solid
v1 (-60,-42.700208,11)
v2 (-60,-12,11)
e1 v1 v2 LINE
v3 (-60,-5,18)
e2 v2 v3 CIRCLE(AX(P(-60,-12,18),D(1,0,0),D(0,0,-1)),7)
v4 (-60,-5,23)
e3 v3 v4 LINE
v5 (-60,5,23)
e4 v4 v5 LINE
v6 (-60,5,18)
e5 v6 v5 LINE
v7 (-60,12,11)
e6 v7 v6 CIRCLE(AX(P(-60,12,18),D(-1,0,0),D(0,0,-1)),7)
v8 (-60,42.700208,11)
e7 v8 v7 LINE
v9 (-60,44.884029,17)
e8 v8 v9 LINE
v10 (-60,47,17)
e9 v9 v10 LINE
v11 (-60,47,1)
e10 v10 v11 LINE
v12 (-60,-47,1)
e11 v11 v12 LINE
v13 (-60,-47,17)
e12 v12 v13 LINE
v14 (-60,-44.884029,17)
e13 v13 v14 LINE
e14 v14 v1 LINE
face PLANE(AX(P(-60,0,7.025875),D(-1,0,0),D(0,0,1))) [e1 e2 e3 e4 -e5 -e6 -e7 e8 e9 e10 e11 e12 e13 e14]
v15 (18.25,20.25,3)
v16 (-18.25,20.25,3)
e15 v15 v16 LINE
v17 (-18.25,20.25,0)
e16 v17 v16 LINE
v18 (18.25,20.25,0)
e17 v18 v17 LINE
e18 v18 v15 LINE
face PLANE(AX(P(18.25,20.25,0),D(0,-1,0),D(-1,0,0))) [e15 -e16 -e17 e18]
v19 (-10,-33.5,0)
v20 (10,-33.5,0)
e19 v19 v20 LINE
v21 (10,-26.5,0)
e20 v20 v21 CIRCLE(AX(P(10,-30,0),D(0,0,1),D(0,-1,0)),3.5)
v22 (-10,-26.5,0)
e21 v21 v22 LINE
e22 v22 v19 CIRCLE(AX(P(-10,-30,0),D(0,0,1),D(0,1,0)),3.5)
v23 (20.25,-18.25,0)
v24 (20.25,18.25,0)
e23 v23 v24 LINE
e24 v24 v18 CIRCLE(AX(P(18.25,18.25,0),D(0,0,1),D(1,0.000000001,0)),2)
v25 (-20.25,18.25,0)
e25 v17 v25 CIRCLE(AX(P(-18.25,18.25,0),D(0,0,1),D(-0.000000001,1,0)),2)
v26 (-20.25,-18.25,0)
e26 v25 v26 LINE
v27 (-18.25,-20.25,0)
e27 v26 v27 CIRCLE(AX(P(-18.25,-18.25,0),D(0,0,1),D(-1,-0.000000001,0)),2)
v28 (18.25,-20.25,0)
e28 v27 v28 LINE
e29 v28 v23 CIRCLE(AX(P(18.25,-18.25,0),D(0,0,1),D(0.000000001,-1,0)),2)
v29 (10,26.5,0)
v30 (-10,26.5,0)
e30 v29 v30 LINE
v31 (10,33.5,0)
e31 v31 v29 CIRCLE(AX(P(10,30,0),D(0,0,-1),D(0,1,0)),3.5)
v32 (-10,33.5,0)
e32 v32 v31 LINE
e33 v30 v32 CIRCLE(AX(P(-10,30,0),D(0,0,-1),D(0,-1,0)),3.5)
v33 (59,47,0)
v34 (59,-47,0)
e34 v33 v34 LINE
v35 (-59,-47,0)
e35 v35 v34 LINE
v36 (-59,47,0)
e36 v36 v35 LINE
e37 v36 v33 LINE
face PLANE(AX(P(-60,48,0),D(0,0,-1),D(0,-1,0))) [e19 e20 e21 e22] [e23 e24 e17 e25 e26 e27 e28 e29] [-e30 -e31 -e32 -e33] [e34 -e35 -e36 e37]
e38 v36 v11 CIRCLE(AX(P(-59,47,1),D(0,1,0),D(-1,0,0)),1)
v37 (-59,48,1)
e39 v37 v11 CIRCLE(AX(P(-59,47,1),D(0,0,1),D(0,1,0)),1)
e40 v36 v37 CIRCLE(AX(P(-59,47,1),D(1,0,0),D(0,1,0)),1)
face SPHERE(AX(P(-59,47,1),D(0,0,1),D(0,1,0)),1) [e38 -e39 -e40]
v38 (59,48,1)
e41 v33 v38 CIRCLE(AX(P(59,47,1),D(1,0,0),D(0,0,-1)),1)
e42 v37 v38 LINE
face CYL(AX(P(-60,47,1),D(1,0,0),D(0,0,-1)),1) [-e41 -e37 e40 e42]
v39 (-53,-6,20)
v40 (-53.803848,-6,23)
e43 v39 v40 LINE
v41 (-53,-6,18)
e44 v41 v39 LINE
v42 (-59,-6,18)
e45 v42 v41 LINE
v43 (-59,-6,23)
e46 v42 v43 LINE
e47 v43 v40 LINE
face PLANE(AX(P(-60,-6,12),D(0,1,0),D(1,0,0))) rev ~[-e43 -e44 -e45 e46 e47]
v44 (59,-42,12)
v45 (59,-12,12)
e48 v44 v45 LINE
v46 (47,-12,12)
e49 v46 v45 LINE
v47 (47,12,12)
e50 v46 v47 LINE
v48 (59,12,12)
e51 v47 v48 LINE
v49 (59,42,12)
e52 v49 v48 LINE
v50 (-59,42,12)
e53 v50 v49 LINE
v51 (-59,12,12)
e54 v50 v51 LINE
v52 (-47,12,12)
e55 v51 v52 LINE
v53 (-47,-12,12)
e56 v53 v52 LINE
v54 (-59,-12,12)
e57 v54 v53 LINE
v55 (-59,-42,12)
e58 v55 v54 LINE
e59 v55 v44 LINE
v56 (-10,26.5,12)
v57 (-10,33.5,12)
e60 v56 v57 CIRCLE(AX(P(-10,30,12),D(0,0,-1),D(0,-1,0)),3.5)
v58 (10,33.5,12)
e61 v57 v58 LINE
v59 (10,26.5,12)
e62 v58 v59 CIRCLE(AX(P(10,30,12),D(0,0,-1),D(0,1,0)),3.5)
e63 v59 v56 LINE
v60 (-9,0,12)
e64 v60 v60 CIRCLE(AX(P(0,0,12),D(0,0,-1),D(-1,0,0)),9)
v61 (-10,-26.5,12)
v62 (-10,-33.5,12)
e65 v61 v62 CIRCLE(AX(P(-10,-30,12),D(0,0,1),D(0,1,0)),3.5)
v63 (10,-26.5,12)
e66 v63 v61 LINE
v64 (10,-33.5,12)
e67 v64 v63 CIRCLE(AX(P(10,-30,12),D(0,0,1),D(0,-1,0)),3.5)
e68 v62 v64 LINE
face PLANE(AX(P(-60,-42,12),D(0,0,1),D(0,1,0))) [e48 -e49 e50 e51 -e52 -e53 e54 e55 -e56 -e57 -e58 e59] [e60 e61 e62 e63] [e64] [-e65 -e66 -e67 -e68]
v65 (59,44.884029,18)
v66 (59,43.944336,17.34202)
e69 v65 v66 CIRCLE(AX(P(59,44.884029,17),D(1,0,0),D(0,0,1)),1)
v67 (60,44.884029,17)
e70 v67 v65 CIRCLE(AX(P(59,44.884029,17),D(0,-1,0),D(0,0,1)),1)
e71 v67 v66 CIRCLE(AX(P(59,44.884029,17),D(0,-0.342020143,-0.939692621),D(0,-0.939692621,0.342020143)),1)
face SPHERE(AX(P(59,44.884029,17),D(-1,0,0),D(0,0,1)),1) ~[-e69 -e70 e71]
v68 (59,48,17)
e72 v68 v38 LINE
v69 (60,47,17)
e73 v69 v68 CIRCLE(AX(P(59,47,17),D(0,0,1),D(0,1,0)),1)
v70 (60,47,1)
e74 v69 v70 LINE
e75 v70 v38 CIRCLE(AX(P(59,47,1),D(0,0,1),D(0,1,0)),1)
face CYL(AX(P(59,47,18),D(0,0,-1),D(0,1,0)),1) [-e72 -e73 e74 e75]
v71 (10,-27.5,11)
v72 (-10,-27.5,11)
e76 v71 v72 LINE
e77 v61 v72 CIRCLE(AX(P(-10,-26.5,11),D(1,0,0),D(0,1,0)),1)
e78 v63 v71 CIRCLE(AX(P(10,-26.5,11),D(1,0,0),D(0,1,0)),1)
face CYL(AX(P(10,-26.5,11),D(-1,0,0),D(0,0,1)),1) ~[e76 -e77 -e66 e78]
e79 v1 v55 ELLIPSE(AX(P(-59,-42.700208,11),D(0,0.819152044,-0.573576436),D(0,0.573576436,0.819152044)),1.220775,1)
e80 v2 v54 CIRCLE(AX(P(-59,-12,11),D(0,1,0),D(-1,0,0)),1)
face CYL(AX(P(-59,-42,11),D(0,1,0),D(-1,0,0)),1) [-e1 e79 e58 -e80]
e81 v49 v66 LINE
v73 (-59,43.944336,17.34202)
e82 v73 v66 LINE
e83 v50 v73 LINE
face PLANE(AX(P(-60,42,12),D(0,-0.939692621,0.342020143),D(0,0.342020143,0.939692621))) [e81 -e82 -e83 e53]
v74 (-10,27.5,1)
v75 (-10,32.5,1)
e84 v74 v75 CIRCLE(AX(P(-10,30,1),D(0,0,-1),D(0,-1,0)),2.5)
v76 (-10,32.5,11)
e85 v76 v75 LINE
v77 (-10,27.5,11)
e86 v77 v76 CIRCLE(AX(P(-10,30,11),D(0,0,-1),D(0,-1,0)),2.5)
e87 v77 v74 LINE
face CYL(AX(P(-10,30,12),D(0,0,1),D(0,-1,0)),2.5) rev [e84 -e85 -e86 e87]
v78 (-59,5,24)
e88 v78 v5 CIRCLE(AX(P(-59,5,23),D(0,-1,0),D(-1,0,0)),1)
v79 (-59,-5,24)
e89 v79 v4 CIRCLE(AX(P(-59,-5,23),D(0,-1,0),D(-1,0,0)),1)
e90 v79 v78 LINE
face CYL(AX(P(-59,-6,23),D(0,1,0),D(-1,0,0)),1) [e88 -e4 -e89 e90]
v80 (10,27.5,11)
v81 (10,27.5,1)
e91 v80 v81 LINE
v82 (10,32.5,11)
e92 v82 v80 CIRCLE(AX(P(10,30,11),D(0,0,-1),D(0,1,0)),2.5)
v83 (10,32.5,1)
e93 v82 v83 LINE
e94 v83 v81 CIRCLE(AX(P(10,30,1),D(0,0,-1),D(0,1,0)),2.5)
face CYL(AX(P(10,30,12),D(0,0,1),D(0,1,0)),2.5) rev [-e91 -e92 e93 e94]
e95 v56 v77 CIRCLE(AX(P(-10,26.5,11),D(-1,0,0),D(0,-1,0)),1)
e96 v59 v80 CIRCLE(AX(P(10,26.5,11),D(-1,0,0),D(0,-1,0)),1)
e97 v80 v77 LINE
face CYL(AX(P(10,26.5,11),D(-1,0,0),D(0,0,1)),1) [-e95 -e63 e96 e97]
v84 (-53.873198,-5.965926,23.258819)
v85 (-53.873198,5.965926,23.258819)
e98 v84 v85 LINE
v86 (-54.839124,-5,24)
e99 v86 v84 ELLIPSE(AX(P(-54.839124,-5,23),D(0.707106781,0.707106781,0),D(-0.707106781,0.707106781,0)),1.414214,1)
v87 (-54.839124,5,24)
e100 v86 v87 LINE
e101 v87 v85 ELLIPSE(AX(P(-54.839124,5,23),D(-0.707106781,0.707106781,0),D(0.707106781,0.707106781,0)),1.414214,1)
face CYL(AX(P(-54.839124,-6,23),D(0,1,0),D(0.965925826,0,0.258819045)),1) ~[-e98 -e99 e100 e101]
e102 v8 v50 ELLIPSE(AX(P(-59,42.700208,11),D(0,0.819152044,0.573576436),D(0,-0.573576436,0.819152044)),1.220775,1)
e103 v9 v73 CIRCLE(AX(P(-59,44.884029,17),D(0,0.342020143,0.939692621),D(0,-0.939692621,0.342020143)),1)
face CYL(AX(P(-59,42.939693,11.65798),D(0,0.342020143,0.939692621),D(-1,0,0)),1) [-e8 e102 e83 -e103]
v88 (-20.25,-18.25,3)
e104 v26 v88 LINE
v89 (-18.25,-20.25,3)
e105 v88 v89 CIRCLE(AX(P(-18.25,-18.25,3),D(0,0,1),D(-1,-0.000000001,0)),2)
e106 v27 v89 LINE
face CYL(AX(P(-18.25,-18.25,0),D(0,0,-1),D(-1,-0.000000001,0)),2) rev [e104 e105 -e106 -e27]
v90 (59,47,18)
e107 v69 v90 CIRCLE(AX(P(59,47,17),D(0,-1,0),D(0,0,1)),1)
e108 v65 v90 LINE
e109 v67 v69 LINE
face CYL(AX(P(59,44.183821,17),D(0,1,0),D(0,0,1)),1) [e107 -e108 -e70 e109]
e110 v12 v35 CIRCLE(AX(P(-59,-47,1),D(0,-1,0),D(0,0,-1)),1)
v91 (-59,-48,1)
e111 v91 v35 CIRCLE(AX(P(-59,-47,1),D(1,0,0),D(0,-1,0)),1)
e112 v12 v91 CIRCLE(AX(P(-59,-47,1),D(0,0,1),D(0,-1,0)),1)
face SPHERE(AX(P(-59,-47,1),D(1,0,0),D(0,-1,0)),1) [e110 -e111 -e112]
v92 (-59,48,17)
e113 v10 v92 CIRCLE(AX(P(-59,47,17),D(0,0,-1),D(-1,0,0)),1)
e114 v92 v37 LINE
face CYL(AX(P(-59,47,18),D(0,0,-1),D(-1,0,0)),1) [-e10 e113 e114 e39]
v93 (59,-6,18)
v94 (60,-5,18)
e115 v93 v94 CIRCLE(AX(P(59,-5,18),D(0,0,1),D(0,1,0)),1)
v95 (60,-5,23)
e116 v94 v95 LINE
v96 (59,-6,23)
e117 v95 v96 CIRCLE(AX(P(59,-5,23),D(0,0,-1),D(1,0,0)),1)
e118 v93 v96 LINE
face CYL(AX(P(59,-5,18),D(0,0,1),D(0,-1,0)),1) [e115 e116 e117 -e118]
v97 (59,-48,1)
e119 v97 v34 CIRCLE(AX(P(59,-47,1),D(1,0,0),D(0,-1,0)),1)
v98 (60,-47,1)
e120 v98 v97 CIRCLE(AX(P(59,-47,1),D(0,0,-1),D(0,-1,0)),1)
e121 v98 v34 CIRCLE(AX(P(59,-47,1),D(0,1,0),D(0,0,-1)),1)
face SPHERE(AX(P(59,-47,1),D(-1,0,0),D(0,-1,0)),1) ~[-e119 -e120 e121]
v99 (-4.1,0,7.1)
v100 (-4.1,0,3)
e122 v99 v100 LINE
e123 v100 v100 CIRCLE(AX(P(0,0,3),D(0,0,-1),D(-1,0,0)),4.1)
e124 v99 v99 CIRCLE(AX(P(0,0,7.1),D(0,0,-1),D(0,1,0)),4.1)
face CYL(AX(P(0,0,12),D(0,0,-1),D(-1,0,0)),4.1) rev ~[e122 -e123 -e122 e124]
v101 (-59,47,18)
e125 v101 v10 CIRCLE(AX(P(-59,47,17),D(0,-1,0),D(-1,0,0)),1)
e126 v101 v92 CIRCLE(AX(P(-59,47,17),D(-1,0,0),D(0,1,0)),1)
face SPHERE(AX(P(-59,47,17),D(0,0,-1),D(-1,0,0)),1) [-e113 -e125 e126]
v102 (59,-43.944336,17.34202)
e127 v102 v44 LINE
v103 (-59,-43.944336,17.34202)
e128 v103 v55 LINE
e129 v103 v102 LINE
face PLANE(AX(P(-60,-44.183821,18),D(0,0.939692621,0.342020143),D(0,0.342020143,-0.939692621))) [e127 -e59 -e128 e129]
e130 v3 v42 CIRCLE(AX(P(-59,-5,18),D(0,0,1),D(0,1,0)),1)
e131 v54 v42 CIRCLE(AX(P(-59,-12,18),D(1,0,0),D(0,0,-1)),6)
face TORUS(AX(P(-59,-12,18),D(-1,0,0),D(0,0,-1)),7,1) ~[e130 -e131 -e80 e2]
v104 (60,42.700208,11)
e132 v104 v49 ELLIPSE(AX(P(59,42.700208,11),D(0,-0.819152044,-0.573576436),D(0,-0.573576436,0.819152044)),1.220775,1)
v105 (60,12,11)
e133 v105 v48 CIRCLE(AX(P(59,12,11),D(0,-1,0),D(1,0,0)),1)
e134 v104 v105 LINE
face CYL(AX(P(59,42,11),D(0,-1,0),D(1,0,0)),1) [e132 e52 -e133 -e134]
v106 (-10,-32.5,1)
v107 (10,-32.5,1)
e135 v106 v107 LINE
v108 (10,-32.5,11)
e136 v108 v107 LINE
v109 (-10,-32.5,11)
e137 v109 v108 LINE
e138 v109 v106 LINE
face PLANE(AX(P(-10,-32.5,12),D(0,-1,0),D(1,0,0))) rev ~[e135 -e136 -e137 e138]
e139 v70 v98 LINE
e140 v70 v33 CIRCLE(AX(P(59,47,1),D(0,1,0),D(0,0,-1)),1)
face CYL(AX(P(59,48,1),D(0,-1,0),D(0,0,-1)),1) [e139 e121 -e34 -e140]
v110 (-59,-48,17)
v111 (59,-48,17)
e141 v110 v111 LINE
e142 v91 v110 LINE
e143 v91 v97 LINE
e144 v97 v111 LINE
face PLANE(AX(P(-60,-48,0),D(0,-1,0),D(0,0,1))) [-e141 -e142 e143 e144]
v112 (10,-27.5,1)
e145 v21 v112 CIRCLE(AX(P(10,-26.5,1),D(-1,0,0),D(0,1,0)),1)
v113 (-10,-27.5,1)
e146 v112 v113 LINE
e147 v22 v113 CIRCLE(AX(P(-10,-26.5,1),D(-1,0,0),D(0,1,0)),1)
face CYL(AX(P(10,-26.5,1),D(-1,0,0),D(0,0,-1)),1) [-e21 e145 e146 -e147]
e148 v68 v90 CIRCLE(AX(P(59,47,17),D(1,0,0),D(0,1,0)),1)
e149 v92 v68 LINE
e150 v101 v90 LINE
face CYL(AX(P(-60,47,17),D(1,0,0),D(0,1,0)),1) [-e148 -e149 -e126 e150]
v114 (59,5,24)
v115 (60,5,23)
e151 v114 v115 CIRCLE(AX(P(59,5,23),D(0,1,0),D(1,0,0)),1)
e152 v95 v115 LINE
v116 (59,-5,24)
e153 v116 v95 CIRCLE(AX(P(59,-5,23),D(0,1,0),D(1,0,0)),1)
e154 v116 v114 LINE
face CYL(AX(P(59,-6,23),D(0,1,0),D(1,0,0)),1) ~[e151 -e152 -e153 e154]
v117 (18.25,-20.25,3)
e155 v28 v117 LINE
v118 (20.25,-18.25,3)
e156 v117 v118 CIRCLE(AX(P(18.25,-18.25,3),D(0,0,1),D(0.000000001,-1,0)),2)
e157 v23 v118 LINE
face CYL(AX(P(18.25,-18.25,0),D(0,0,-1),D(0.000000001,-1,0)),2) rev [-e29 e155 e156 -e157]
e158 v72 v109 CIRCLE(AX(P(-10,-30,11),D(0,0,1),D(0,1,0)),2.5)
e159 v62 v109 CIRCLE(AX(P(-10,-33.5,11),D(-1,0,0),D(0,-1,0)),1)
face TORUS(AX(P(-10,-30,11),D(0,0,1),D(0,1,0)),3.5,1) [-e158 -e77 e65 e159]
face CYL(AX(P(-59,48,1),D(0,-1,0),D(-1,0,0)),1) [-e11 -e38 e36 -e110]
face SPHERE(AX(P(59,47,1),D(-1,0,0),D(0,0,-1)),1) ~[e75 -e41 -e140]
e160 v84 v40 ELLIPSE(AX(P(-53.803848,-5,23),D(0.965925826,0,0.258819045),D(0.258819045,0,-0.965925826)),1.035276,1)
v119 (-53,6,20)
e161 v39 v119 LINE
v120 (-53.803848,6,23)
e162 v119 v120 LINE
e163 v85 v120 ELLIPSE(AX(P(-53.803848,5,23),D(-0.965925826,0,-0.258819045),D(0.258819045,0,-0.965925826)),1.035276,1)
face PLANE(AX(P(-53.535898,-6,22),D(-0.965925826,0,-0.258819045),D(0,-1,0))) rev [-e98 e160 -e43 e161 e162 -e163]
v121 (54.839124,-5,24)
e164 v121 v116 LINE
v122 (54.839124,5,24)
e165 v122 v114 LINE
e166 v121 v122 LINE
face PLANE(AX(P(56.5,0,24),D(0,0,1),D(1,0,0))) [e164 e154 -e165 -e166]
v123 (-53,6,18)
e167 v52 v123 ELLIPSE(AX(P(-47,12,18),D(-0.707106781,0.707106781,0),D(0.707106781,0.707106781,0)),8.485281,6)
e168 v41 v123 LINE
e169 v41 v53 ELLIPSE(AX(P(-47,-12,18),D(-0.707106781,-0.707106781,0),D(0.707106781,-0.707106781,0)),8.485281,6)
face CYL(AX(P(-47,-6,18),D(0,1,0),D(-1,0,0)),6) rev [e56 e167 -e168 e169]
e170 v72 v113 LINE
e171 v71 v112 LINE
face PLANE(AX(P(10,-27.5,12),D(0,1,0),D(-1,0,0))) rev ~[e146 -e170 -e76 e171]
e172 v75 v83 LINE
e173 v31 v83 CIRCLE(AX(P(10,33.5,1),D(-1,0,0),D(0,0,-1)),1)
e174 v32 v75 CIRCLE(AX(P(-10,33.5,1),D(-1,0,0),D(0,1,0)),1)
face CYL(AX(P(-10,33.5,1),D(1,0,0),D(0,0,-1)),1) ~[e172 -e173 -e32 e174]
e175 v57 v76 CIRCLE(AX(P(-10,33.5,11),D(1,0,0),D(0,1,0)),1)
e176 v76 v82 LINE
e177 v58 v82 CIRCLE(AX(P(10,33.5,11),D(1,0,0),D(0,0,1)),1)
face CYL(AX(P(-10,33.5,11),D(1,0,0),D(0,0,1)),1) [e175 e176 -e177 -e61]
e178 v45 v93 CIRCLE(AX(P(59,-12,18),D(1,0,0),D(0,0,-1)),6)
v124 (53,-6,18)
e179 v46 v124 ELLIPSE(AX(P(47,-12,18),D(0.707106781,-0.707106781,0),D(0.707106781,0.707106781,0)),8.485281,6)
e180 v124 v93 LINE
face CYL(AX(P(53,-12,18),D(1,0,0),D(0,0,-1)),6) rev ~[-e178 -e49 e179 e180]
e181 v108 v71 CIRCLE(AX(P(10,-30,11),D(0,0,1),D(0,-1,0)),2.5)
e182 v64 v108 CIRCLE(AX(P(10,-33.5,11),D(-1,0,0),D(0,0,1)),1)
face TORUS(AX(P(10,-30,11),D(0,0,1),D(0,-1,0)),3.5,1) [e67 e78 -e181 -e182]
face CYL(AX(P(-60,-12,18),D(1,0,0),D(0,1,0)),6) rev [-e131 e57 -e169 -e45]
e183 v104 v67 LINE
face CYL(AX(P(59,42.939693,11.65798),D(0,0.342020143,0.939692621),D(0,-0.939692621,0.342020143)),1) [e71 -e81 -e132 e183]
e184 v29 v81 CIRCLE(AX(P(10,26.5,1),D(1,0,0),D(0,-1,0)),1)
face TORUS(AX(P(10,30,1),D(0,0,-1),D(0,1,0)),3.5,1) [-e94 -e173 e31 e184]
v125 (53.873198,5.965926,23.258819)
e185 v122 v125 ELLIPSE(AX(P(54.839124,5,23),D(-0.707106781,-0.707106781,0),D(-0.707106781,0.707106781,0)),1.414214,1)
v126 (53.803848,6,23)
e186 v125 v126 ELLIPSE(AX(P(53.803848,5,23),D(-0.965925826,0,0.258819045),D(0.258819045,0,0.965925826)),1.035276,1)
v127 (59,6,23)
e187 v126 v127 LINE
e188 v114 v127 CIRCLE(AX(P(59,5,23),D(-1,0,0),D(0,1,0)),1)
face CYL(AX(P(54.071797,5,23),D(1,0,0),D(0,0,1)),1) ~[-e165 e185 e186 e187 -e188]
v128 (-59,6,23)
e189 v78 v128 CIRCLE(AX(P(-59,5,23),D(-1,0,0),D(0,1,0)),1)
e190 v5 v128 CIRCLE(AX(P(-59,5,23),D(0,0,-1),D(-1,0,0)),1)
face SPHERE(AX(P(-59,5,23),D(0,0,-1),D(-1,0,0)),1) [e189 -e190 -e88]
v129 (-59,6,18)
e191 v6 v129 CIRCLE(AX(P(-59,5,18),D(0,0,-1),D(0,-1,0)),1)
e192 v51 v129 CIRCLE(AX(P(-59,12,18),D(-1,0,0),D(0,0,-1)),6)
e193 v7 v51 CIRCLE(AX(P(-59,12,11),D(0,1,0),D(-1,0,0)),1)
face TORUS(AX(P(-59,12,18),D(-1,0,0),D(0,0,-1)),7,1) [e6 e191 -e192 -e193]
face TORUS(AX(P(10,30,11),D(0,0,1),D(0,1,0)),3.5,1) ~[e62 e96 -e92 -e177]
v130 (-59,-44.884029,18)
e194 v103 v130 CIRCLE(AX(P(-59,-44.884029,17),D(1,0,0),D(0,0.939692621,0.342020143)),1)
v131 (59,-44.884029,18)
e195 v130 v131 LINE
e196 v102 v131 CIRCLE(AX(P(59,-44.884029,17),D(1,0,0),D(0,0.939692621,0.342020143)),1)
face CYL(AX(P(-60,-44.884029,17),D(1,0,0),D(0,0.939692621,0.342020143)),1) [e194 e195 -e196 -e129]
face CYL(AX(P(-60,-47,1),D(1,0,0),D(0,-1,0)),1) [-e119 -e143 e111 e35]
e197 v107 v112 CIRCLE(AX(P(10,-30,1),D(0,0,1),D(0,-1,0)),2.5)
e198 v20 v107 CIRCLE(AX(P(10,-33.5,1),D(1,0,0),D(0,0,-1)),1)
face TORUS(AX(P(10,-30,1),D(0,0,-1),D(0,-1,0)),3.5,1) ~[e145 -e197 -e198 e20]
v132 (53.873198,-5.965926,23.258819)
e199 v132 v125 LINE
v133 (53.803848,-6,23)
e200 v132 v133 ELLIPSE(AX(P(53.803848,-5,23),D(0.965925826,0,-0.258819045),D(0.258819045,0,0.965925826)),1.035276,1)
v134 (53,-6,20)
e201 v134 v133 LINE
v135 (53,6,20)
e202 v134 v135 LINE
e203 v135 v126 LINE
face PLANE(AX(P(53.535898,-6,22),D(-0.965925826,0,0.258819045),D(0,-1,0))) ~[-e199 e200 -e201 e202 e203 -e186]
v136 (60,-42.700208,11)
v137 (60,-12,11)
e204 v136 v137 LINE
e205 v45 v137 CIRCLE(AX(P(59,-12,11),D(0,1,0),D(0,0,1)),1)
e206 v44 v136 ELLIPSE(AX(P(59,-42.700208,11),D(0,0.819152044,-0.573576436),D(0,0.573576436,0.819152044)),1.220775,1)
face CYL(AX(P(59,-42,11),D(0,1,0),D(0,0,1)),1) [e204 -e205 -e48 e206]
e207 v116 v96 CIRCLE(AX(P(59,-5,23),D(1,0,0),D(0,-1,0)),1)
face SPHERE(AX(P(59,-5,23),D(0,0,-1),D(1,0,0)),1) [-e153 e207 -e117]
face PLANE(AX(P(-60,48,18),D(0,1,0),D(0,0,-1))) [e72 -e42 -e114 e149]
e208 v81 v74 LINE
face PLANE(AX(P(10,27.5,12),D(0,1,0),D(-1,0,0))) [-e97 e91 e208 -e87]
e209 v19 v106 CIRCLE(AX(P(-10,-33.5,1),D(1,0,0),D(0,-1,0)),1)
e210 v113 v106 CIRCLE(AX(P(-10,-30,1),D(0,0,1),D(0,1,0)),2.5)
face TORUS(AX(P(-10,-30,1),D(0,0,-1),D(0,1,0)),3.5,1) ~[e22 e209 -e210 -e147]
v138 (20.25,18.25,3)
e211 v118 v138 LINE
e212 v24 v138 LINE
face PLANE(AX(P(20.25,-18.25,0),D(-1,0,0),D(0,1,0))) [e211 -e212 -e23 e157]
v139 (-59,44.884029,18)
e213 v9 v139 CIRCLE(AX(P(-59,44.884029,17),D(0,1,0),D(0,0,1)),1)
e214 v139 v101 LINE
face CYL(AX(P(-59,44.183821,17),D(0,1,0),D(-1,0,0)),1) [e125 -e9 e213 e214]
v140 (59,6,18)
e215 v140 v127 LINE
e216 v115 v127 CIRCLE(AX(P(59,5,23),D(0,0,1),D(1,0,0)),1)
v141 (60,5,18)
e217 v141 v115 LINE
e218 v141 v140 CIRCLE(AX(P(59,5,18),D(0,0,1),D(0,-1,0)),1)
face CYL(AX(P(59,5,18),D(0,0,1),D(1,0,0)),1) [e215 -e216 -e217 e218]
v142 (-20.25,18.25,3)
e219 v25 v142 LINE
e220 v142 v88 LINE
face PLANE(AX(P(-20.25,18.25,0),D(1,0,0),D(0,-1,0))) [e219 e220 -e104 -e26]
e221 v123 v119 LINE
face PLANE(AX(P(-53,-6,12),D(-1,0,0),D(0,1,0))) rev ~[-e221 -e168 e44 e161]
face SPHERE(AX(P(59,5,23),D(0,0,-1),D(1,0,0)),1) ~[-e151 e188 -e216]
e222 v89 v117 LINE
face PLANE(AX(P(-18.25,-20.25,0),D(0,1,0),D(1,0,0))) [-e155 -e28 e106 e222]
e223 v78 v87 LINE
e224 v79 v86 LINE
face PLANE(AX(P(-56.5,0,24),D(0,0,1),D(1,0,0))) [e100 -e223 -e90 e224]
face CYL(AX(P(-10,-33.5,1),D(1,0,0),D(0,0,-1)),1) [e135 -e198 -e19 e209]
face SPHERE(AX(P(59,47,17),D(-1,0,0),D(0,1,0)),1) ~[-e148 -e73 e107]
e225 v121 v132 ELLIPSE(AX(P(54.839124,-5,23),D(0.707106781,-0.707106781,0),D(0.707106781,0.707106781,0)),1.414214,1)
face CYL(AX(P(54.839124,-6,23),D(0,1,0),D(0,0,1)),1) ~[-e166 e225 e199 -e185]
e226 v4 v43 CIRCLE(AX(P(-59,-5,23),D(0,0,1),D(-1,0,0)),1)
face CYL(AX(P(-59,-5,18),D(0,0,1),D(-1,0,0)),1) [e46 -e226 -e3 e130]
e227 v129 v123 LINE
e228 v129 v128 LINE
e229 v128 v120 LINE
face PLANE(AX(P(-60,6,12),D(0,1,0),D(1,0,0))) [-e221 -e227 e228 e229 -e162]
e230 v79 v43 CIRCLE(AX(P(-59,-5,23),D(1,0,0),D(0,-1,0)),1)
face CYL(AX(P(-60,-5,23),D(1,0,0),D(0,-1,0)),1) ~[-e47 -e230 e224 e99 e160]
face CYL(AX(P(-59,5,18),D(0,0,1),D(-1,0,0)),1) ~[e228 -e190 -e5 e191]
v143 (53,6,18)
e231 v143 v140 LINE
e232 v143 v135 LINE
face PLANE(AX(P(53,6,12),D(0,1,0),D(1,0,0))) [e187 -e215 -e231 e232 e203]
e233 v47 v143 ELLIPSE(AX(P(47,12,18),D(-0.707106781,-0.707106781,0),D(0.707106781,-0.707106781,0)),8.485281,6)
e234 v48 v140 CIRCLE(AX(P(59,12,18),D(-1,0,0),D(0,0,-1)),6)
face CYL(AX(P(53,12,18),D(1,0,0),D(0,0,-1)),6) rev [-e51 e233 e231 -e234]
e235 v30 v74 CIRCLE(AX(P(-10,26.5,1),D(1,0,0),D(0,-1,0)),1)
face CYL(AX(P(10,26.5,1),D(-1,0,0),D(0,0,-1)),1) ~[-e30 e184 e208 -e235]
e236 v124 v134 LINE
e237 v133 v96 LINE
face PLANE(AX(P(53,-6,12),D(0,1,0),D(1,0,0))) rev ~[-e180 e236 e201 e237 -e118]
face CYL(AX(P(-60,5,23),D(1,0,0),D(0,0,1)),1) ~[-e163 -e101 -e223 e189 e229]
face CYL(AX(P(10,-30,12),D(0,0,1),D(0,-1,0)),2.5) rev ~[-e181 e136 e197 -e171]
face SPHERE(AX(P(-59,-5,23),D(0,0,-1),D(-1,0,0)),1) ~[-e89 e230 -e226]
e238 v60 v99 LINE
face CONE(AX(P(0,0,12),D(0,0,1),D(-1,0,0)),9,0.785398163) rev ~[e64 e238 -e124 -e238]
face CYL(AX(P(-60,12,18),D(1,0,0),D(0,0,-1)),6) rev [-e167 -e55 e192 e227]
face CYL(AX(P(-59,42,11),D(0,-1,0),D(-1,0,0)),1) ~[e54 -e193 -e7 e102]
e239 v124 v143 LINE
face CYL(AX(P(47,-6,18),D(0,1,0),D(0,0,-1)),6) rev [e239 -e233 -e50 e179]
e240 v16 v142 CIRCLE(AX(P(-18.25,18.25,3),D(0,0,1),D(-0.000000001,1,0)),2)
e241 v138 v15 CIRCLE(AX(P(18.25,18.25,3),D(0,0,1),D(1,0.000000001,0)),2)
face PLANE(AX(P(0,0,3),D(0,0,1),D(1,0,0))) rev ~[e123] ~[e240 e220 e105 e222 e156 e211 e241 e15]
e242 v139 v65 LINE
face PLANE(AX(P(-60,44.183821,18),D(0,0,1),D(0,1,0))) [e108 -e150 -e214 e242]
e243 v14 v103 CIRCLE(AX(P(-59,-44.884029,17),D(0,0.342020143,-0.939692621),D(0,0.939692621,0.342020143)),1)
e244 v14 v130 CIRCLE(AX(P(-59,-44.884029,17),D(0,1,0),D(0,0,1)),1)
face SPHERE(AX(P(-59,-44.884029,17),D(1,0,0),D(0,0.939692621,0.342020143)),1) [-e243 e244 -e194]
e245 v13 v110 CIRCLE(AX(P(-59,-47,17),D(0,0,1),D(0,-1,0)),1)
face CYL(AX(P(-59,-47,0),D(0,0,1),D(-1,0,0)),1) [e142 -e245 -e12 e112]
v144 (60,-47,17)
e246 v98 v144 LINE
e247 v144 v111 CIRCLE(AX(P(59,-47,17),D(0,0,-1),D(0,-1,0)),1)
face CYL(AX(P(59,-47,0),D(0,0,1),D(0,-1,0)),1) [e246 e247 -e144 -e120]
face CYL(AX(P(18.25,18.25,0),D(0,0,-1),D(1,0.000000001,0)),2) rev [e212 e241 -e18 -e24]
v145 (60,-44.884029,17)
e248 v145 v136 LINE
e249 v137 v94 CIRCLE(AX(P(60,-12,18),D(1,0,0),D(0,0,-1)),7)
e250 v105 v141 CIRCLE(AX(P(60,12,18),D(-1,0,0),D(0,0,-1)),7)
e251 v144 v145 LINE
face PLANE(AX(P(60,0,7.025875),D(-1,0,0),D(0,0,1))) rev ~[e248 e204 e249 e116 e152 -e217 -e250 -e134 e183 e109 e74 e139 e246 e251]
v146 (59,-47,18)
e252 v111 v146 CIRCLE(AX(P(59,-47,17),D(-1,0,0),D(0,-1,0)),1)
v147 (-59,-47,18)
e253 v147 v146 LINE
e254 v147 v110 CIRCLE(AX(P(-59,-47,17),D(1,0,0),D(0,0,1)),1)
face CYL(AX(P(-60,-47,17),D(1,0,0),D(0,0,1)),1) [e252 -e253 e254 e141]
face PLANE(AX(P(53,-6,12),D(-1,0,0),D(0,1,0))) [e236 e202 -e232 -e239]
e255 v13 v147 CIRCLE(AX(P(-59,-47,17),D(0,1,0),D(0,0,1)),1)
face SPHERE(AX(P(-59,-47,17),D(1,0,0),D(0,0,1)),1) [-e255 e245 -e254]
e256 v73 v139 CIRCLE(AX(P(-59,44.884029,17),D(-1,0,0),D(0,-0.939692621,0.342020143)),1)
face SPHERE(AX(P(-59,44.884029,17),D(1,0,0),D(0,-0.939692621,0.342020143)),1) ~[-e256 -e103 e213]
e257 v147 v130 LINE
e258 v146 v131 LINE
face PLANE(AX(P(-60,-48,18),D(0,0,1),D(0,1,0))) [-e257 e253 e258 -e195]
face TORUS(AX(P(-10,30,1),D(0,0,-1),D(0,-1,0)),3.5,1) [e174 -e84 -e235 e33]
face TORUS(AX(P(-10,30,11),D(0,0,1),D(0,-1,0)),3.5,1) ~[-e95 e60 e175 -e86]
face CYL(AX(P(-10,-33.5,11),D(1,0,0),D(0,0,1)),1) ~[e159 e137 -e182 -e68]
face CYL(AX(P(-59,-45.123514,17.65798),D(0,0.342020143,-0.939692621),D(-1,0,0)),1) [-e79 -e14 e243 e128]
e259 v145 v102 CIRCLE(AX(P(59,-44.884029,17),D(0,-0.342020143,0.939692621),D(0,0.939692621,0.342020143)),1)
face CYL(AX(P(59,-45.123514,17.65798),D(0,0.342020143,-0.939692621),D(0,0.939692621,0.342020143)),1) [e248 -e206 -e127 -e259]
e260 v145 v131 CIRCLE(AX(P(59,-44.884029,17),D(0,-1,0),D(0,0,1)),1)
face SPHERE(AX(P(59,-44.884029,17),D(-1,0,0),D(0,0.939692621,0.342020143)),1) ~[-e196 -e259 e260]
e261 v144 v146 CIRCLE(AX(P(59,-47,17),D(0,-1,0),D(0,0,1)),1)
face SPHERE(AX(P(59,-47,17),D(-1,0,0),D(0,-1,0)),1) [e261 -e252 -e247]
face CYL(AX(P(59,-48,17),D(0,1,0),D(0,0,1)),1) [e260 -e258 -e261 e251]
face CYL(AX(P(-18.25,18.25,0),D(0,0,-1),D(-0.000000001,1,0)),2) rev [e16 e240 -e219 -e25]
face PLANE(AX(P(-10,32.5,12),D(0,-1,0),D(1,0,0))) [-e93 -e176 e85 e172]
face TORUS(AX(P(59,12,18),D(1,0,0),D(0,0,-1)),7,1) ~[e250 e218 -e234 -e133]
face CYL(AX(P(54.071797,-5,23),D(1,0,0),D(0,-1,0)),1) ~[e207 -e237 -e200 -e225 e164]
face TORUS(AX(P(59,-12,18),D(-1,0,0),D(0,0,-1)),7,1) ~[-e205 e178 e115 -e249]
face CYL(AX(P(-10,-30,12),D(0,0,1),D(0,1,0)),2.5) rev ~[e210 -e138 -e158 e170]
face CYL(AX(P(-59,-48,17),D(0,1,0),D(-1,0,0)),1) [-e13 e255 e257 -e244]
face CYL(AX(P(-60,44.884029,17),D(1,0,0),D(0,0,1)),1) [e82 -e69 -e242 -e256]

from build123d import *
from OCP.BRepFilletAPI import BRepFilletAPI_MakeChamfer

# Parameters (mm, degrees)
AUFSATZ_LINEAR_AUSTRAGEN1_DEPTH       = 60
AUFSATZ_LINEAR_AUSTRAGEN1_DEPTH_BACK  = 60
FORMSENKUNG_F_R_M8_SFHCS1_D           = 8.2
FORMSENKUNG_F_R_M8_SFHCS1_CSINK_D     = 18
FORMSENKUNG_F_R_M8_SFHCS1_CSINK_ANGLE = 90
SCHNITT_LINEAR_AUSTRAGEN1_DEPTH       = 3
SKIZZE5_W                             = 7
SKIZZE5_H                             = 12
AUFSATZ_LINEAR_AUSTRAGEN2_DEPTH       = 12
FASE1_SIZE                            = 4
FASE1_SIZE2                           = 1.07179677
VERRUNDUNG1_R                         = 6
SCHNITT_LINEAR_AUSTRAGEN2_DEPTH       = 12
VERRUNDUNG2_R                         = 1


with BuildPart() as part:
    # Skizze1 → Aufsatz-Linear austragen1 (new, two sides: drawn at the far end of the back side and taken through both)
    with BuildSketch(Plane(origin=(0, 0, 0), x_dir=(0, 0, -1), z_dir=(1, 0, 0)).offset(-AUFSATZ_LINEAR_AUSTRAGEN1_DEPTH_BACK)):
        Polygon((0, 48), (0, -48), (-18, -48), (-18, -44.183821406), (-12, -42), (-12, 42), (-18, 44.183821406), (-18, 48), align=None)
    extrude(amount=AUFSATZ_LINEAR_AUSTRAGEN1_DEPTH + AUFSATZ_LINEAR_AUSTRAGEN1_DEPTH_BACK)

    # Formsenkung für M8 SFHCS1 (through all)
    with Locations(Plane.XY.offset(12)):
        with Locations((0, 0)):
            CounterSinkHole(FORMSENKUNG_F_R_M8_SFHCS1_D / 2, FORMSENKUNG_F_R_M8_SFHCS1_CSINK_D / 2, counter_sink_angle=FORMSENKUNG_F_R_M8_SFHCS1_CSINK_ANGLE)

    # Skizze4 → Schnitt-Linear austragen1 (cut)
    with BuildSketch(Plane(origin=(0, 0, 0), x_dir=(-1, 0, 0), z_dir=(0, 0, -1))):
        with BuildLine():
            Line((18.25, -20.25), (-18.25, -20.25))
            ThreePointArc((-18.25, -20.25), (-19.664213562, -19.664213562), (-20.25, -18.25))
            Line((-20.25, -18.25), (-20.25, 18.25))
            ThreePointArc((-20.25, 18.25), (-19.664213562, 19.664213562), (-18.25, 20.25))
            Line((-18.25, 20.25), (18.25, 20.25))
            ThreePointArc((18.25, 20.25), (19.664213562, 19.664213562), (20.25, 18.25))
            Line((20.25, 18.25), (20.25, -18.25))
            ThreePointArc((20.25, -18.25), (19.664213562, -19.664213562), (18.25, -20.25))
        make_face()
    extrude(amount=-SCHNITT_LINEAR_AUSTRAGEN1_DEPTH, mode=Mode.SUBTRACT)

    # Skizze5 → Aufsatz-Linear austragen2 (add)
    with BuildSketch(Plane.XY.offset(12)):
        with Locations((-56.5, 0)):
            Rectangle(SKIZZE5_W, SKIZZE5_H)
        with Locations((56.5, 0)):
            Rectangle(SKIZZE5_W, SKIZZE5_H)
    extrude(amount=AUFSATZ_LINEAR_AUSTRAGEN2_DEPTH)

    # Fase1: one chamfer whose edges measure the first distance from different faces: ONE call of the kernel's chamfer builder (chamfer() names one face for all edges)
    fase1_edges_1 = [part.edges().sort_by_distance(p)[0] for p in [
        (-53, 0, 24),
    ]]
    fase1_side_1 = [part.faces().sort_by_distance(p)[0] for p in [
        (-53, 0, 18),
    ]]
    fase1_edges_2 = [part.edges().sort_by_distance(p)[0] for p in [
        (53, 0, 24),
    ]]
    fase1_side_2 = [part.faces().sort_by_distance(p)[0] for p in [
        (53, 0, 18),
    ]]
    fase1 = BRepFilletAPI_MakeChamfer(part.part.solid().wrapped)
    for e in fase1_edges_1:
        fase1.Add(FASE1_SIZE, FASE1_SIZE2, e.wrapped, fase1_side_1[0].wrapped)  # the first distance lies on this face
    for e in fase1_edges_2:
        fase1.Add(FASE1_SIZE, FASE1_SIZE2, e.wrapped, fase1_side_2[0].wrapped)  # the first distance lies on this face
    add(Compound.cast(fase1.Shape()), mode=Mode.REPLACE)

    # Verrundung1
    verrundung1_edges = [part.edges().sort_by_distance(p)[0] for p in [
        (-56.5, 6, 12),
        (-56.5, -6, 12),
        (-53, 0, 12),
        (56.5, 6, 12),
        (53, 0, 12),
        (56.5, -6, 12),
    ]]
    fillet(verrundung1_edges, radius=VERRUNDUNG1_R)

    # Skizze6 → Schnitt-Linear austragen2 (cut)
    with BuildSketch(Plane.XY.offset(12)):
        with BuildLine():
            Line((-10, 32.5), (10, 32.5))
            ThreePointArc((10, 32.5), (12.5, 30), (10, 27.5))
            Line((10, 27.5), (-10, 27.5))
            ThreePointArc((-10, 27.5), (-12.5, 30), (-10, 32.5))
        make_face()
        with BuildLine():
            Line((-10, -32.5), (10, -32.5))
            ThreePointArc((10, -32.5), (12.5, -30), (10, -27.5))
            Line((10, -27.5), (-10, -27.5))
            ThreePointArc((-10, -27.5), (-12.5, -30), (-10, -32.5))
        make_face()
    extrude(amount=-SCHNITT_LINEAR_AUSTRAGEN2_DEPTH, mode=Mode.SUBTRACT)

    # Verrundung2
    verrundung2_edges = [part.edges().sort_by_distance(p)[0] for p in [
        (-60, 48, 9),
        (-60, -27, 12),
        (60, -27, 12),
        (60, -7.757359313, 13.757359313),
        (60, 7.757359313, 13.757359313),
        (-60, 7.757359313, 13.757359313),
        (-60, -7.757359313, 13.757359313),
        (-60, 46.091910703, 18),
        (0, -48, 18),
        (0, -44.183821406, 18),
        (0, 44.183821406, 18),
        (0, 48, 18),
        (0, 48, 0),
        (0, -48, 0),
        (-12.5, 30, 0),
        (0, 32.5, 0),
        (12.5, 30, 0),
        (0, 27.5, 0),
        (-12.5, 30, 12),
        (0, 27.5, 12),
        (12.5, 30, 12),
        (0, 32.5, 12),
        (-12.5, -30, 0),
        (0, -27.5, 0),
        (12.5, -30, 0),
        (0, -32.5, 0),
        (-12.5, -30, 12),
        (0, -32.5, 12),
        (12.5, -30, 12),
        (0, -27.5, 12),
        (-60, 43.091910703, 15),
        (-60, 27, 12),
        (-60, -43.091910703, 15),
        (60, -48, 9),
        (60, 0, 0),
        (60, 48, 9),
        (60, 46.091910703, 18),
        (60, 43.091910703, 15),
        (60, 27, 12),
        (60, -43.091910703, 15),
        (60, -46.091910703, 18),
        (-60, -46.091910703, 18),
        (-60, -48, 9),
        (-60, 0, 0),
        (-60, 6, 21),
        (-60, -6, 21),
        (-60, 0, 24),
        (-57.035898385, -6, 24),
        (60, -6, 21),
        (60, 6, 21),
        (60, 0, 24),
        (57.035898385, 6, 24),
        (-57.035898385, 6, 24),
        (-54.07179677, 0, 24),
        (57.035898385, -6, 24),
        (54.07179677, 0, 24),
    ]]
    fillet(verrundung2_edges, radius=VERRUNDUNG2_R)


solid = part.part
